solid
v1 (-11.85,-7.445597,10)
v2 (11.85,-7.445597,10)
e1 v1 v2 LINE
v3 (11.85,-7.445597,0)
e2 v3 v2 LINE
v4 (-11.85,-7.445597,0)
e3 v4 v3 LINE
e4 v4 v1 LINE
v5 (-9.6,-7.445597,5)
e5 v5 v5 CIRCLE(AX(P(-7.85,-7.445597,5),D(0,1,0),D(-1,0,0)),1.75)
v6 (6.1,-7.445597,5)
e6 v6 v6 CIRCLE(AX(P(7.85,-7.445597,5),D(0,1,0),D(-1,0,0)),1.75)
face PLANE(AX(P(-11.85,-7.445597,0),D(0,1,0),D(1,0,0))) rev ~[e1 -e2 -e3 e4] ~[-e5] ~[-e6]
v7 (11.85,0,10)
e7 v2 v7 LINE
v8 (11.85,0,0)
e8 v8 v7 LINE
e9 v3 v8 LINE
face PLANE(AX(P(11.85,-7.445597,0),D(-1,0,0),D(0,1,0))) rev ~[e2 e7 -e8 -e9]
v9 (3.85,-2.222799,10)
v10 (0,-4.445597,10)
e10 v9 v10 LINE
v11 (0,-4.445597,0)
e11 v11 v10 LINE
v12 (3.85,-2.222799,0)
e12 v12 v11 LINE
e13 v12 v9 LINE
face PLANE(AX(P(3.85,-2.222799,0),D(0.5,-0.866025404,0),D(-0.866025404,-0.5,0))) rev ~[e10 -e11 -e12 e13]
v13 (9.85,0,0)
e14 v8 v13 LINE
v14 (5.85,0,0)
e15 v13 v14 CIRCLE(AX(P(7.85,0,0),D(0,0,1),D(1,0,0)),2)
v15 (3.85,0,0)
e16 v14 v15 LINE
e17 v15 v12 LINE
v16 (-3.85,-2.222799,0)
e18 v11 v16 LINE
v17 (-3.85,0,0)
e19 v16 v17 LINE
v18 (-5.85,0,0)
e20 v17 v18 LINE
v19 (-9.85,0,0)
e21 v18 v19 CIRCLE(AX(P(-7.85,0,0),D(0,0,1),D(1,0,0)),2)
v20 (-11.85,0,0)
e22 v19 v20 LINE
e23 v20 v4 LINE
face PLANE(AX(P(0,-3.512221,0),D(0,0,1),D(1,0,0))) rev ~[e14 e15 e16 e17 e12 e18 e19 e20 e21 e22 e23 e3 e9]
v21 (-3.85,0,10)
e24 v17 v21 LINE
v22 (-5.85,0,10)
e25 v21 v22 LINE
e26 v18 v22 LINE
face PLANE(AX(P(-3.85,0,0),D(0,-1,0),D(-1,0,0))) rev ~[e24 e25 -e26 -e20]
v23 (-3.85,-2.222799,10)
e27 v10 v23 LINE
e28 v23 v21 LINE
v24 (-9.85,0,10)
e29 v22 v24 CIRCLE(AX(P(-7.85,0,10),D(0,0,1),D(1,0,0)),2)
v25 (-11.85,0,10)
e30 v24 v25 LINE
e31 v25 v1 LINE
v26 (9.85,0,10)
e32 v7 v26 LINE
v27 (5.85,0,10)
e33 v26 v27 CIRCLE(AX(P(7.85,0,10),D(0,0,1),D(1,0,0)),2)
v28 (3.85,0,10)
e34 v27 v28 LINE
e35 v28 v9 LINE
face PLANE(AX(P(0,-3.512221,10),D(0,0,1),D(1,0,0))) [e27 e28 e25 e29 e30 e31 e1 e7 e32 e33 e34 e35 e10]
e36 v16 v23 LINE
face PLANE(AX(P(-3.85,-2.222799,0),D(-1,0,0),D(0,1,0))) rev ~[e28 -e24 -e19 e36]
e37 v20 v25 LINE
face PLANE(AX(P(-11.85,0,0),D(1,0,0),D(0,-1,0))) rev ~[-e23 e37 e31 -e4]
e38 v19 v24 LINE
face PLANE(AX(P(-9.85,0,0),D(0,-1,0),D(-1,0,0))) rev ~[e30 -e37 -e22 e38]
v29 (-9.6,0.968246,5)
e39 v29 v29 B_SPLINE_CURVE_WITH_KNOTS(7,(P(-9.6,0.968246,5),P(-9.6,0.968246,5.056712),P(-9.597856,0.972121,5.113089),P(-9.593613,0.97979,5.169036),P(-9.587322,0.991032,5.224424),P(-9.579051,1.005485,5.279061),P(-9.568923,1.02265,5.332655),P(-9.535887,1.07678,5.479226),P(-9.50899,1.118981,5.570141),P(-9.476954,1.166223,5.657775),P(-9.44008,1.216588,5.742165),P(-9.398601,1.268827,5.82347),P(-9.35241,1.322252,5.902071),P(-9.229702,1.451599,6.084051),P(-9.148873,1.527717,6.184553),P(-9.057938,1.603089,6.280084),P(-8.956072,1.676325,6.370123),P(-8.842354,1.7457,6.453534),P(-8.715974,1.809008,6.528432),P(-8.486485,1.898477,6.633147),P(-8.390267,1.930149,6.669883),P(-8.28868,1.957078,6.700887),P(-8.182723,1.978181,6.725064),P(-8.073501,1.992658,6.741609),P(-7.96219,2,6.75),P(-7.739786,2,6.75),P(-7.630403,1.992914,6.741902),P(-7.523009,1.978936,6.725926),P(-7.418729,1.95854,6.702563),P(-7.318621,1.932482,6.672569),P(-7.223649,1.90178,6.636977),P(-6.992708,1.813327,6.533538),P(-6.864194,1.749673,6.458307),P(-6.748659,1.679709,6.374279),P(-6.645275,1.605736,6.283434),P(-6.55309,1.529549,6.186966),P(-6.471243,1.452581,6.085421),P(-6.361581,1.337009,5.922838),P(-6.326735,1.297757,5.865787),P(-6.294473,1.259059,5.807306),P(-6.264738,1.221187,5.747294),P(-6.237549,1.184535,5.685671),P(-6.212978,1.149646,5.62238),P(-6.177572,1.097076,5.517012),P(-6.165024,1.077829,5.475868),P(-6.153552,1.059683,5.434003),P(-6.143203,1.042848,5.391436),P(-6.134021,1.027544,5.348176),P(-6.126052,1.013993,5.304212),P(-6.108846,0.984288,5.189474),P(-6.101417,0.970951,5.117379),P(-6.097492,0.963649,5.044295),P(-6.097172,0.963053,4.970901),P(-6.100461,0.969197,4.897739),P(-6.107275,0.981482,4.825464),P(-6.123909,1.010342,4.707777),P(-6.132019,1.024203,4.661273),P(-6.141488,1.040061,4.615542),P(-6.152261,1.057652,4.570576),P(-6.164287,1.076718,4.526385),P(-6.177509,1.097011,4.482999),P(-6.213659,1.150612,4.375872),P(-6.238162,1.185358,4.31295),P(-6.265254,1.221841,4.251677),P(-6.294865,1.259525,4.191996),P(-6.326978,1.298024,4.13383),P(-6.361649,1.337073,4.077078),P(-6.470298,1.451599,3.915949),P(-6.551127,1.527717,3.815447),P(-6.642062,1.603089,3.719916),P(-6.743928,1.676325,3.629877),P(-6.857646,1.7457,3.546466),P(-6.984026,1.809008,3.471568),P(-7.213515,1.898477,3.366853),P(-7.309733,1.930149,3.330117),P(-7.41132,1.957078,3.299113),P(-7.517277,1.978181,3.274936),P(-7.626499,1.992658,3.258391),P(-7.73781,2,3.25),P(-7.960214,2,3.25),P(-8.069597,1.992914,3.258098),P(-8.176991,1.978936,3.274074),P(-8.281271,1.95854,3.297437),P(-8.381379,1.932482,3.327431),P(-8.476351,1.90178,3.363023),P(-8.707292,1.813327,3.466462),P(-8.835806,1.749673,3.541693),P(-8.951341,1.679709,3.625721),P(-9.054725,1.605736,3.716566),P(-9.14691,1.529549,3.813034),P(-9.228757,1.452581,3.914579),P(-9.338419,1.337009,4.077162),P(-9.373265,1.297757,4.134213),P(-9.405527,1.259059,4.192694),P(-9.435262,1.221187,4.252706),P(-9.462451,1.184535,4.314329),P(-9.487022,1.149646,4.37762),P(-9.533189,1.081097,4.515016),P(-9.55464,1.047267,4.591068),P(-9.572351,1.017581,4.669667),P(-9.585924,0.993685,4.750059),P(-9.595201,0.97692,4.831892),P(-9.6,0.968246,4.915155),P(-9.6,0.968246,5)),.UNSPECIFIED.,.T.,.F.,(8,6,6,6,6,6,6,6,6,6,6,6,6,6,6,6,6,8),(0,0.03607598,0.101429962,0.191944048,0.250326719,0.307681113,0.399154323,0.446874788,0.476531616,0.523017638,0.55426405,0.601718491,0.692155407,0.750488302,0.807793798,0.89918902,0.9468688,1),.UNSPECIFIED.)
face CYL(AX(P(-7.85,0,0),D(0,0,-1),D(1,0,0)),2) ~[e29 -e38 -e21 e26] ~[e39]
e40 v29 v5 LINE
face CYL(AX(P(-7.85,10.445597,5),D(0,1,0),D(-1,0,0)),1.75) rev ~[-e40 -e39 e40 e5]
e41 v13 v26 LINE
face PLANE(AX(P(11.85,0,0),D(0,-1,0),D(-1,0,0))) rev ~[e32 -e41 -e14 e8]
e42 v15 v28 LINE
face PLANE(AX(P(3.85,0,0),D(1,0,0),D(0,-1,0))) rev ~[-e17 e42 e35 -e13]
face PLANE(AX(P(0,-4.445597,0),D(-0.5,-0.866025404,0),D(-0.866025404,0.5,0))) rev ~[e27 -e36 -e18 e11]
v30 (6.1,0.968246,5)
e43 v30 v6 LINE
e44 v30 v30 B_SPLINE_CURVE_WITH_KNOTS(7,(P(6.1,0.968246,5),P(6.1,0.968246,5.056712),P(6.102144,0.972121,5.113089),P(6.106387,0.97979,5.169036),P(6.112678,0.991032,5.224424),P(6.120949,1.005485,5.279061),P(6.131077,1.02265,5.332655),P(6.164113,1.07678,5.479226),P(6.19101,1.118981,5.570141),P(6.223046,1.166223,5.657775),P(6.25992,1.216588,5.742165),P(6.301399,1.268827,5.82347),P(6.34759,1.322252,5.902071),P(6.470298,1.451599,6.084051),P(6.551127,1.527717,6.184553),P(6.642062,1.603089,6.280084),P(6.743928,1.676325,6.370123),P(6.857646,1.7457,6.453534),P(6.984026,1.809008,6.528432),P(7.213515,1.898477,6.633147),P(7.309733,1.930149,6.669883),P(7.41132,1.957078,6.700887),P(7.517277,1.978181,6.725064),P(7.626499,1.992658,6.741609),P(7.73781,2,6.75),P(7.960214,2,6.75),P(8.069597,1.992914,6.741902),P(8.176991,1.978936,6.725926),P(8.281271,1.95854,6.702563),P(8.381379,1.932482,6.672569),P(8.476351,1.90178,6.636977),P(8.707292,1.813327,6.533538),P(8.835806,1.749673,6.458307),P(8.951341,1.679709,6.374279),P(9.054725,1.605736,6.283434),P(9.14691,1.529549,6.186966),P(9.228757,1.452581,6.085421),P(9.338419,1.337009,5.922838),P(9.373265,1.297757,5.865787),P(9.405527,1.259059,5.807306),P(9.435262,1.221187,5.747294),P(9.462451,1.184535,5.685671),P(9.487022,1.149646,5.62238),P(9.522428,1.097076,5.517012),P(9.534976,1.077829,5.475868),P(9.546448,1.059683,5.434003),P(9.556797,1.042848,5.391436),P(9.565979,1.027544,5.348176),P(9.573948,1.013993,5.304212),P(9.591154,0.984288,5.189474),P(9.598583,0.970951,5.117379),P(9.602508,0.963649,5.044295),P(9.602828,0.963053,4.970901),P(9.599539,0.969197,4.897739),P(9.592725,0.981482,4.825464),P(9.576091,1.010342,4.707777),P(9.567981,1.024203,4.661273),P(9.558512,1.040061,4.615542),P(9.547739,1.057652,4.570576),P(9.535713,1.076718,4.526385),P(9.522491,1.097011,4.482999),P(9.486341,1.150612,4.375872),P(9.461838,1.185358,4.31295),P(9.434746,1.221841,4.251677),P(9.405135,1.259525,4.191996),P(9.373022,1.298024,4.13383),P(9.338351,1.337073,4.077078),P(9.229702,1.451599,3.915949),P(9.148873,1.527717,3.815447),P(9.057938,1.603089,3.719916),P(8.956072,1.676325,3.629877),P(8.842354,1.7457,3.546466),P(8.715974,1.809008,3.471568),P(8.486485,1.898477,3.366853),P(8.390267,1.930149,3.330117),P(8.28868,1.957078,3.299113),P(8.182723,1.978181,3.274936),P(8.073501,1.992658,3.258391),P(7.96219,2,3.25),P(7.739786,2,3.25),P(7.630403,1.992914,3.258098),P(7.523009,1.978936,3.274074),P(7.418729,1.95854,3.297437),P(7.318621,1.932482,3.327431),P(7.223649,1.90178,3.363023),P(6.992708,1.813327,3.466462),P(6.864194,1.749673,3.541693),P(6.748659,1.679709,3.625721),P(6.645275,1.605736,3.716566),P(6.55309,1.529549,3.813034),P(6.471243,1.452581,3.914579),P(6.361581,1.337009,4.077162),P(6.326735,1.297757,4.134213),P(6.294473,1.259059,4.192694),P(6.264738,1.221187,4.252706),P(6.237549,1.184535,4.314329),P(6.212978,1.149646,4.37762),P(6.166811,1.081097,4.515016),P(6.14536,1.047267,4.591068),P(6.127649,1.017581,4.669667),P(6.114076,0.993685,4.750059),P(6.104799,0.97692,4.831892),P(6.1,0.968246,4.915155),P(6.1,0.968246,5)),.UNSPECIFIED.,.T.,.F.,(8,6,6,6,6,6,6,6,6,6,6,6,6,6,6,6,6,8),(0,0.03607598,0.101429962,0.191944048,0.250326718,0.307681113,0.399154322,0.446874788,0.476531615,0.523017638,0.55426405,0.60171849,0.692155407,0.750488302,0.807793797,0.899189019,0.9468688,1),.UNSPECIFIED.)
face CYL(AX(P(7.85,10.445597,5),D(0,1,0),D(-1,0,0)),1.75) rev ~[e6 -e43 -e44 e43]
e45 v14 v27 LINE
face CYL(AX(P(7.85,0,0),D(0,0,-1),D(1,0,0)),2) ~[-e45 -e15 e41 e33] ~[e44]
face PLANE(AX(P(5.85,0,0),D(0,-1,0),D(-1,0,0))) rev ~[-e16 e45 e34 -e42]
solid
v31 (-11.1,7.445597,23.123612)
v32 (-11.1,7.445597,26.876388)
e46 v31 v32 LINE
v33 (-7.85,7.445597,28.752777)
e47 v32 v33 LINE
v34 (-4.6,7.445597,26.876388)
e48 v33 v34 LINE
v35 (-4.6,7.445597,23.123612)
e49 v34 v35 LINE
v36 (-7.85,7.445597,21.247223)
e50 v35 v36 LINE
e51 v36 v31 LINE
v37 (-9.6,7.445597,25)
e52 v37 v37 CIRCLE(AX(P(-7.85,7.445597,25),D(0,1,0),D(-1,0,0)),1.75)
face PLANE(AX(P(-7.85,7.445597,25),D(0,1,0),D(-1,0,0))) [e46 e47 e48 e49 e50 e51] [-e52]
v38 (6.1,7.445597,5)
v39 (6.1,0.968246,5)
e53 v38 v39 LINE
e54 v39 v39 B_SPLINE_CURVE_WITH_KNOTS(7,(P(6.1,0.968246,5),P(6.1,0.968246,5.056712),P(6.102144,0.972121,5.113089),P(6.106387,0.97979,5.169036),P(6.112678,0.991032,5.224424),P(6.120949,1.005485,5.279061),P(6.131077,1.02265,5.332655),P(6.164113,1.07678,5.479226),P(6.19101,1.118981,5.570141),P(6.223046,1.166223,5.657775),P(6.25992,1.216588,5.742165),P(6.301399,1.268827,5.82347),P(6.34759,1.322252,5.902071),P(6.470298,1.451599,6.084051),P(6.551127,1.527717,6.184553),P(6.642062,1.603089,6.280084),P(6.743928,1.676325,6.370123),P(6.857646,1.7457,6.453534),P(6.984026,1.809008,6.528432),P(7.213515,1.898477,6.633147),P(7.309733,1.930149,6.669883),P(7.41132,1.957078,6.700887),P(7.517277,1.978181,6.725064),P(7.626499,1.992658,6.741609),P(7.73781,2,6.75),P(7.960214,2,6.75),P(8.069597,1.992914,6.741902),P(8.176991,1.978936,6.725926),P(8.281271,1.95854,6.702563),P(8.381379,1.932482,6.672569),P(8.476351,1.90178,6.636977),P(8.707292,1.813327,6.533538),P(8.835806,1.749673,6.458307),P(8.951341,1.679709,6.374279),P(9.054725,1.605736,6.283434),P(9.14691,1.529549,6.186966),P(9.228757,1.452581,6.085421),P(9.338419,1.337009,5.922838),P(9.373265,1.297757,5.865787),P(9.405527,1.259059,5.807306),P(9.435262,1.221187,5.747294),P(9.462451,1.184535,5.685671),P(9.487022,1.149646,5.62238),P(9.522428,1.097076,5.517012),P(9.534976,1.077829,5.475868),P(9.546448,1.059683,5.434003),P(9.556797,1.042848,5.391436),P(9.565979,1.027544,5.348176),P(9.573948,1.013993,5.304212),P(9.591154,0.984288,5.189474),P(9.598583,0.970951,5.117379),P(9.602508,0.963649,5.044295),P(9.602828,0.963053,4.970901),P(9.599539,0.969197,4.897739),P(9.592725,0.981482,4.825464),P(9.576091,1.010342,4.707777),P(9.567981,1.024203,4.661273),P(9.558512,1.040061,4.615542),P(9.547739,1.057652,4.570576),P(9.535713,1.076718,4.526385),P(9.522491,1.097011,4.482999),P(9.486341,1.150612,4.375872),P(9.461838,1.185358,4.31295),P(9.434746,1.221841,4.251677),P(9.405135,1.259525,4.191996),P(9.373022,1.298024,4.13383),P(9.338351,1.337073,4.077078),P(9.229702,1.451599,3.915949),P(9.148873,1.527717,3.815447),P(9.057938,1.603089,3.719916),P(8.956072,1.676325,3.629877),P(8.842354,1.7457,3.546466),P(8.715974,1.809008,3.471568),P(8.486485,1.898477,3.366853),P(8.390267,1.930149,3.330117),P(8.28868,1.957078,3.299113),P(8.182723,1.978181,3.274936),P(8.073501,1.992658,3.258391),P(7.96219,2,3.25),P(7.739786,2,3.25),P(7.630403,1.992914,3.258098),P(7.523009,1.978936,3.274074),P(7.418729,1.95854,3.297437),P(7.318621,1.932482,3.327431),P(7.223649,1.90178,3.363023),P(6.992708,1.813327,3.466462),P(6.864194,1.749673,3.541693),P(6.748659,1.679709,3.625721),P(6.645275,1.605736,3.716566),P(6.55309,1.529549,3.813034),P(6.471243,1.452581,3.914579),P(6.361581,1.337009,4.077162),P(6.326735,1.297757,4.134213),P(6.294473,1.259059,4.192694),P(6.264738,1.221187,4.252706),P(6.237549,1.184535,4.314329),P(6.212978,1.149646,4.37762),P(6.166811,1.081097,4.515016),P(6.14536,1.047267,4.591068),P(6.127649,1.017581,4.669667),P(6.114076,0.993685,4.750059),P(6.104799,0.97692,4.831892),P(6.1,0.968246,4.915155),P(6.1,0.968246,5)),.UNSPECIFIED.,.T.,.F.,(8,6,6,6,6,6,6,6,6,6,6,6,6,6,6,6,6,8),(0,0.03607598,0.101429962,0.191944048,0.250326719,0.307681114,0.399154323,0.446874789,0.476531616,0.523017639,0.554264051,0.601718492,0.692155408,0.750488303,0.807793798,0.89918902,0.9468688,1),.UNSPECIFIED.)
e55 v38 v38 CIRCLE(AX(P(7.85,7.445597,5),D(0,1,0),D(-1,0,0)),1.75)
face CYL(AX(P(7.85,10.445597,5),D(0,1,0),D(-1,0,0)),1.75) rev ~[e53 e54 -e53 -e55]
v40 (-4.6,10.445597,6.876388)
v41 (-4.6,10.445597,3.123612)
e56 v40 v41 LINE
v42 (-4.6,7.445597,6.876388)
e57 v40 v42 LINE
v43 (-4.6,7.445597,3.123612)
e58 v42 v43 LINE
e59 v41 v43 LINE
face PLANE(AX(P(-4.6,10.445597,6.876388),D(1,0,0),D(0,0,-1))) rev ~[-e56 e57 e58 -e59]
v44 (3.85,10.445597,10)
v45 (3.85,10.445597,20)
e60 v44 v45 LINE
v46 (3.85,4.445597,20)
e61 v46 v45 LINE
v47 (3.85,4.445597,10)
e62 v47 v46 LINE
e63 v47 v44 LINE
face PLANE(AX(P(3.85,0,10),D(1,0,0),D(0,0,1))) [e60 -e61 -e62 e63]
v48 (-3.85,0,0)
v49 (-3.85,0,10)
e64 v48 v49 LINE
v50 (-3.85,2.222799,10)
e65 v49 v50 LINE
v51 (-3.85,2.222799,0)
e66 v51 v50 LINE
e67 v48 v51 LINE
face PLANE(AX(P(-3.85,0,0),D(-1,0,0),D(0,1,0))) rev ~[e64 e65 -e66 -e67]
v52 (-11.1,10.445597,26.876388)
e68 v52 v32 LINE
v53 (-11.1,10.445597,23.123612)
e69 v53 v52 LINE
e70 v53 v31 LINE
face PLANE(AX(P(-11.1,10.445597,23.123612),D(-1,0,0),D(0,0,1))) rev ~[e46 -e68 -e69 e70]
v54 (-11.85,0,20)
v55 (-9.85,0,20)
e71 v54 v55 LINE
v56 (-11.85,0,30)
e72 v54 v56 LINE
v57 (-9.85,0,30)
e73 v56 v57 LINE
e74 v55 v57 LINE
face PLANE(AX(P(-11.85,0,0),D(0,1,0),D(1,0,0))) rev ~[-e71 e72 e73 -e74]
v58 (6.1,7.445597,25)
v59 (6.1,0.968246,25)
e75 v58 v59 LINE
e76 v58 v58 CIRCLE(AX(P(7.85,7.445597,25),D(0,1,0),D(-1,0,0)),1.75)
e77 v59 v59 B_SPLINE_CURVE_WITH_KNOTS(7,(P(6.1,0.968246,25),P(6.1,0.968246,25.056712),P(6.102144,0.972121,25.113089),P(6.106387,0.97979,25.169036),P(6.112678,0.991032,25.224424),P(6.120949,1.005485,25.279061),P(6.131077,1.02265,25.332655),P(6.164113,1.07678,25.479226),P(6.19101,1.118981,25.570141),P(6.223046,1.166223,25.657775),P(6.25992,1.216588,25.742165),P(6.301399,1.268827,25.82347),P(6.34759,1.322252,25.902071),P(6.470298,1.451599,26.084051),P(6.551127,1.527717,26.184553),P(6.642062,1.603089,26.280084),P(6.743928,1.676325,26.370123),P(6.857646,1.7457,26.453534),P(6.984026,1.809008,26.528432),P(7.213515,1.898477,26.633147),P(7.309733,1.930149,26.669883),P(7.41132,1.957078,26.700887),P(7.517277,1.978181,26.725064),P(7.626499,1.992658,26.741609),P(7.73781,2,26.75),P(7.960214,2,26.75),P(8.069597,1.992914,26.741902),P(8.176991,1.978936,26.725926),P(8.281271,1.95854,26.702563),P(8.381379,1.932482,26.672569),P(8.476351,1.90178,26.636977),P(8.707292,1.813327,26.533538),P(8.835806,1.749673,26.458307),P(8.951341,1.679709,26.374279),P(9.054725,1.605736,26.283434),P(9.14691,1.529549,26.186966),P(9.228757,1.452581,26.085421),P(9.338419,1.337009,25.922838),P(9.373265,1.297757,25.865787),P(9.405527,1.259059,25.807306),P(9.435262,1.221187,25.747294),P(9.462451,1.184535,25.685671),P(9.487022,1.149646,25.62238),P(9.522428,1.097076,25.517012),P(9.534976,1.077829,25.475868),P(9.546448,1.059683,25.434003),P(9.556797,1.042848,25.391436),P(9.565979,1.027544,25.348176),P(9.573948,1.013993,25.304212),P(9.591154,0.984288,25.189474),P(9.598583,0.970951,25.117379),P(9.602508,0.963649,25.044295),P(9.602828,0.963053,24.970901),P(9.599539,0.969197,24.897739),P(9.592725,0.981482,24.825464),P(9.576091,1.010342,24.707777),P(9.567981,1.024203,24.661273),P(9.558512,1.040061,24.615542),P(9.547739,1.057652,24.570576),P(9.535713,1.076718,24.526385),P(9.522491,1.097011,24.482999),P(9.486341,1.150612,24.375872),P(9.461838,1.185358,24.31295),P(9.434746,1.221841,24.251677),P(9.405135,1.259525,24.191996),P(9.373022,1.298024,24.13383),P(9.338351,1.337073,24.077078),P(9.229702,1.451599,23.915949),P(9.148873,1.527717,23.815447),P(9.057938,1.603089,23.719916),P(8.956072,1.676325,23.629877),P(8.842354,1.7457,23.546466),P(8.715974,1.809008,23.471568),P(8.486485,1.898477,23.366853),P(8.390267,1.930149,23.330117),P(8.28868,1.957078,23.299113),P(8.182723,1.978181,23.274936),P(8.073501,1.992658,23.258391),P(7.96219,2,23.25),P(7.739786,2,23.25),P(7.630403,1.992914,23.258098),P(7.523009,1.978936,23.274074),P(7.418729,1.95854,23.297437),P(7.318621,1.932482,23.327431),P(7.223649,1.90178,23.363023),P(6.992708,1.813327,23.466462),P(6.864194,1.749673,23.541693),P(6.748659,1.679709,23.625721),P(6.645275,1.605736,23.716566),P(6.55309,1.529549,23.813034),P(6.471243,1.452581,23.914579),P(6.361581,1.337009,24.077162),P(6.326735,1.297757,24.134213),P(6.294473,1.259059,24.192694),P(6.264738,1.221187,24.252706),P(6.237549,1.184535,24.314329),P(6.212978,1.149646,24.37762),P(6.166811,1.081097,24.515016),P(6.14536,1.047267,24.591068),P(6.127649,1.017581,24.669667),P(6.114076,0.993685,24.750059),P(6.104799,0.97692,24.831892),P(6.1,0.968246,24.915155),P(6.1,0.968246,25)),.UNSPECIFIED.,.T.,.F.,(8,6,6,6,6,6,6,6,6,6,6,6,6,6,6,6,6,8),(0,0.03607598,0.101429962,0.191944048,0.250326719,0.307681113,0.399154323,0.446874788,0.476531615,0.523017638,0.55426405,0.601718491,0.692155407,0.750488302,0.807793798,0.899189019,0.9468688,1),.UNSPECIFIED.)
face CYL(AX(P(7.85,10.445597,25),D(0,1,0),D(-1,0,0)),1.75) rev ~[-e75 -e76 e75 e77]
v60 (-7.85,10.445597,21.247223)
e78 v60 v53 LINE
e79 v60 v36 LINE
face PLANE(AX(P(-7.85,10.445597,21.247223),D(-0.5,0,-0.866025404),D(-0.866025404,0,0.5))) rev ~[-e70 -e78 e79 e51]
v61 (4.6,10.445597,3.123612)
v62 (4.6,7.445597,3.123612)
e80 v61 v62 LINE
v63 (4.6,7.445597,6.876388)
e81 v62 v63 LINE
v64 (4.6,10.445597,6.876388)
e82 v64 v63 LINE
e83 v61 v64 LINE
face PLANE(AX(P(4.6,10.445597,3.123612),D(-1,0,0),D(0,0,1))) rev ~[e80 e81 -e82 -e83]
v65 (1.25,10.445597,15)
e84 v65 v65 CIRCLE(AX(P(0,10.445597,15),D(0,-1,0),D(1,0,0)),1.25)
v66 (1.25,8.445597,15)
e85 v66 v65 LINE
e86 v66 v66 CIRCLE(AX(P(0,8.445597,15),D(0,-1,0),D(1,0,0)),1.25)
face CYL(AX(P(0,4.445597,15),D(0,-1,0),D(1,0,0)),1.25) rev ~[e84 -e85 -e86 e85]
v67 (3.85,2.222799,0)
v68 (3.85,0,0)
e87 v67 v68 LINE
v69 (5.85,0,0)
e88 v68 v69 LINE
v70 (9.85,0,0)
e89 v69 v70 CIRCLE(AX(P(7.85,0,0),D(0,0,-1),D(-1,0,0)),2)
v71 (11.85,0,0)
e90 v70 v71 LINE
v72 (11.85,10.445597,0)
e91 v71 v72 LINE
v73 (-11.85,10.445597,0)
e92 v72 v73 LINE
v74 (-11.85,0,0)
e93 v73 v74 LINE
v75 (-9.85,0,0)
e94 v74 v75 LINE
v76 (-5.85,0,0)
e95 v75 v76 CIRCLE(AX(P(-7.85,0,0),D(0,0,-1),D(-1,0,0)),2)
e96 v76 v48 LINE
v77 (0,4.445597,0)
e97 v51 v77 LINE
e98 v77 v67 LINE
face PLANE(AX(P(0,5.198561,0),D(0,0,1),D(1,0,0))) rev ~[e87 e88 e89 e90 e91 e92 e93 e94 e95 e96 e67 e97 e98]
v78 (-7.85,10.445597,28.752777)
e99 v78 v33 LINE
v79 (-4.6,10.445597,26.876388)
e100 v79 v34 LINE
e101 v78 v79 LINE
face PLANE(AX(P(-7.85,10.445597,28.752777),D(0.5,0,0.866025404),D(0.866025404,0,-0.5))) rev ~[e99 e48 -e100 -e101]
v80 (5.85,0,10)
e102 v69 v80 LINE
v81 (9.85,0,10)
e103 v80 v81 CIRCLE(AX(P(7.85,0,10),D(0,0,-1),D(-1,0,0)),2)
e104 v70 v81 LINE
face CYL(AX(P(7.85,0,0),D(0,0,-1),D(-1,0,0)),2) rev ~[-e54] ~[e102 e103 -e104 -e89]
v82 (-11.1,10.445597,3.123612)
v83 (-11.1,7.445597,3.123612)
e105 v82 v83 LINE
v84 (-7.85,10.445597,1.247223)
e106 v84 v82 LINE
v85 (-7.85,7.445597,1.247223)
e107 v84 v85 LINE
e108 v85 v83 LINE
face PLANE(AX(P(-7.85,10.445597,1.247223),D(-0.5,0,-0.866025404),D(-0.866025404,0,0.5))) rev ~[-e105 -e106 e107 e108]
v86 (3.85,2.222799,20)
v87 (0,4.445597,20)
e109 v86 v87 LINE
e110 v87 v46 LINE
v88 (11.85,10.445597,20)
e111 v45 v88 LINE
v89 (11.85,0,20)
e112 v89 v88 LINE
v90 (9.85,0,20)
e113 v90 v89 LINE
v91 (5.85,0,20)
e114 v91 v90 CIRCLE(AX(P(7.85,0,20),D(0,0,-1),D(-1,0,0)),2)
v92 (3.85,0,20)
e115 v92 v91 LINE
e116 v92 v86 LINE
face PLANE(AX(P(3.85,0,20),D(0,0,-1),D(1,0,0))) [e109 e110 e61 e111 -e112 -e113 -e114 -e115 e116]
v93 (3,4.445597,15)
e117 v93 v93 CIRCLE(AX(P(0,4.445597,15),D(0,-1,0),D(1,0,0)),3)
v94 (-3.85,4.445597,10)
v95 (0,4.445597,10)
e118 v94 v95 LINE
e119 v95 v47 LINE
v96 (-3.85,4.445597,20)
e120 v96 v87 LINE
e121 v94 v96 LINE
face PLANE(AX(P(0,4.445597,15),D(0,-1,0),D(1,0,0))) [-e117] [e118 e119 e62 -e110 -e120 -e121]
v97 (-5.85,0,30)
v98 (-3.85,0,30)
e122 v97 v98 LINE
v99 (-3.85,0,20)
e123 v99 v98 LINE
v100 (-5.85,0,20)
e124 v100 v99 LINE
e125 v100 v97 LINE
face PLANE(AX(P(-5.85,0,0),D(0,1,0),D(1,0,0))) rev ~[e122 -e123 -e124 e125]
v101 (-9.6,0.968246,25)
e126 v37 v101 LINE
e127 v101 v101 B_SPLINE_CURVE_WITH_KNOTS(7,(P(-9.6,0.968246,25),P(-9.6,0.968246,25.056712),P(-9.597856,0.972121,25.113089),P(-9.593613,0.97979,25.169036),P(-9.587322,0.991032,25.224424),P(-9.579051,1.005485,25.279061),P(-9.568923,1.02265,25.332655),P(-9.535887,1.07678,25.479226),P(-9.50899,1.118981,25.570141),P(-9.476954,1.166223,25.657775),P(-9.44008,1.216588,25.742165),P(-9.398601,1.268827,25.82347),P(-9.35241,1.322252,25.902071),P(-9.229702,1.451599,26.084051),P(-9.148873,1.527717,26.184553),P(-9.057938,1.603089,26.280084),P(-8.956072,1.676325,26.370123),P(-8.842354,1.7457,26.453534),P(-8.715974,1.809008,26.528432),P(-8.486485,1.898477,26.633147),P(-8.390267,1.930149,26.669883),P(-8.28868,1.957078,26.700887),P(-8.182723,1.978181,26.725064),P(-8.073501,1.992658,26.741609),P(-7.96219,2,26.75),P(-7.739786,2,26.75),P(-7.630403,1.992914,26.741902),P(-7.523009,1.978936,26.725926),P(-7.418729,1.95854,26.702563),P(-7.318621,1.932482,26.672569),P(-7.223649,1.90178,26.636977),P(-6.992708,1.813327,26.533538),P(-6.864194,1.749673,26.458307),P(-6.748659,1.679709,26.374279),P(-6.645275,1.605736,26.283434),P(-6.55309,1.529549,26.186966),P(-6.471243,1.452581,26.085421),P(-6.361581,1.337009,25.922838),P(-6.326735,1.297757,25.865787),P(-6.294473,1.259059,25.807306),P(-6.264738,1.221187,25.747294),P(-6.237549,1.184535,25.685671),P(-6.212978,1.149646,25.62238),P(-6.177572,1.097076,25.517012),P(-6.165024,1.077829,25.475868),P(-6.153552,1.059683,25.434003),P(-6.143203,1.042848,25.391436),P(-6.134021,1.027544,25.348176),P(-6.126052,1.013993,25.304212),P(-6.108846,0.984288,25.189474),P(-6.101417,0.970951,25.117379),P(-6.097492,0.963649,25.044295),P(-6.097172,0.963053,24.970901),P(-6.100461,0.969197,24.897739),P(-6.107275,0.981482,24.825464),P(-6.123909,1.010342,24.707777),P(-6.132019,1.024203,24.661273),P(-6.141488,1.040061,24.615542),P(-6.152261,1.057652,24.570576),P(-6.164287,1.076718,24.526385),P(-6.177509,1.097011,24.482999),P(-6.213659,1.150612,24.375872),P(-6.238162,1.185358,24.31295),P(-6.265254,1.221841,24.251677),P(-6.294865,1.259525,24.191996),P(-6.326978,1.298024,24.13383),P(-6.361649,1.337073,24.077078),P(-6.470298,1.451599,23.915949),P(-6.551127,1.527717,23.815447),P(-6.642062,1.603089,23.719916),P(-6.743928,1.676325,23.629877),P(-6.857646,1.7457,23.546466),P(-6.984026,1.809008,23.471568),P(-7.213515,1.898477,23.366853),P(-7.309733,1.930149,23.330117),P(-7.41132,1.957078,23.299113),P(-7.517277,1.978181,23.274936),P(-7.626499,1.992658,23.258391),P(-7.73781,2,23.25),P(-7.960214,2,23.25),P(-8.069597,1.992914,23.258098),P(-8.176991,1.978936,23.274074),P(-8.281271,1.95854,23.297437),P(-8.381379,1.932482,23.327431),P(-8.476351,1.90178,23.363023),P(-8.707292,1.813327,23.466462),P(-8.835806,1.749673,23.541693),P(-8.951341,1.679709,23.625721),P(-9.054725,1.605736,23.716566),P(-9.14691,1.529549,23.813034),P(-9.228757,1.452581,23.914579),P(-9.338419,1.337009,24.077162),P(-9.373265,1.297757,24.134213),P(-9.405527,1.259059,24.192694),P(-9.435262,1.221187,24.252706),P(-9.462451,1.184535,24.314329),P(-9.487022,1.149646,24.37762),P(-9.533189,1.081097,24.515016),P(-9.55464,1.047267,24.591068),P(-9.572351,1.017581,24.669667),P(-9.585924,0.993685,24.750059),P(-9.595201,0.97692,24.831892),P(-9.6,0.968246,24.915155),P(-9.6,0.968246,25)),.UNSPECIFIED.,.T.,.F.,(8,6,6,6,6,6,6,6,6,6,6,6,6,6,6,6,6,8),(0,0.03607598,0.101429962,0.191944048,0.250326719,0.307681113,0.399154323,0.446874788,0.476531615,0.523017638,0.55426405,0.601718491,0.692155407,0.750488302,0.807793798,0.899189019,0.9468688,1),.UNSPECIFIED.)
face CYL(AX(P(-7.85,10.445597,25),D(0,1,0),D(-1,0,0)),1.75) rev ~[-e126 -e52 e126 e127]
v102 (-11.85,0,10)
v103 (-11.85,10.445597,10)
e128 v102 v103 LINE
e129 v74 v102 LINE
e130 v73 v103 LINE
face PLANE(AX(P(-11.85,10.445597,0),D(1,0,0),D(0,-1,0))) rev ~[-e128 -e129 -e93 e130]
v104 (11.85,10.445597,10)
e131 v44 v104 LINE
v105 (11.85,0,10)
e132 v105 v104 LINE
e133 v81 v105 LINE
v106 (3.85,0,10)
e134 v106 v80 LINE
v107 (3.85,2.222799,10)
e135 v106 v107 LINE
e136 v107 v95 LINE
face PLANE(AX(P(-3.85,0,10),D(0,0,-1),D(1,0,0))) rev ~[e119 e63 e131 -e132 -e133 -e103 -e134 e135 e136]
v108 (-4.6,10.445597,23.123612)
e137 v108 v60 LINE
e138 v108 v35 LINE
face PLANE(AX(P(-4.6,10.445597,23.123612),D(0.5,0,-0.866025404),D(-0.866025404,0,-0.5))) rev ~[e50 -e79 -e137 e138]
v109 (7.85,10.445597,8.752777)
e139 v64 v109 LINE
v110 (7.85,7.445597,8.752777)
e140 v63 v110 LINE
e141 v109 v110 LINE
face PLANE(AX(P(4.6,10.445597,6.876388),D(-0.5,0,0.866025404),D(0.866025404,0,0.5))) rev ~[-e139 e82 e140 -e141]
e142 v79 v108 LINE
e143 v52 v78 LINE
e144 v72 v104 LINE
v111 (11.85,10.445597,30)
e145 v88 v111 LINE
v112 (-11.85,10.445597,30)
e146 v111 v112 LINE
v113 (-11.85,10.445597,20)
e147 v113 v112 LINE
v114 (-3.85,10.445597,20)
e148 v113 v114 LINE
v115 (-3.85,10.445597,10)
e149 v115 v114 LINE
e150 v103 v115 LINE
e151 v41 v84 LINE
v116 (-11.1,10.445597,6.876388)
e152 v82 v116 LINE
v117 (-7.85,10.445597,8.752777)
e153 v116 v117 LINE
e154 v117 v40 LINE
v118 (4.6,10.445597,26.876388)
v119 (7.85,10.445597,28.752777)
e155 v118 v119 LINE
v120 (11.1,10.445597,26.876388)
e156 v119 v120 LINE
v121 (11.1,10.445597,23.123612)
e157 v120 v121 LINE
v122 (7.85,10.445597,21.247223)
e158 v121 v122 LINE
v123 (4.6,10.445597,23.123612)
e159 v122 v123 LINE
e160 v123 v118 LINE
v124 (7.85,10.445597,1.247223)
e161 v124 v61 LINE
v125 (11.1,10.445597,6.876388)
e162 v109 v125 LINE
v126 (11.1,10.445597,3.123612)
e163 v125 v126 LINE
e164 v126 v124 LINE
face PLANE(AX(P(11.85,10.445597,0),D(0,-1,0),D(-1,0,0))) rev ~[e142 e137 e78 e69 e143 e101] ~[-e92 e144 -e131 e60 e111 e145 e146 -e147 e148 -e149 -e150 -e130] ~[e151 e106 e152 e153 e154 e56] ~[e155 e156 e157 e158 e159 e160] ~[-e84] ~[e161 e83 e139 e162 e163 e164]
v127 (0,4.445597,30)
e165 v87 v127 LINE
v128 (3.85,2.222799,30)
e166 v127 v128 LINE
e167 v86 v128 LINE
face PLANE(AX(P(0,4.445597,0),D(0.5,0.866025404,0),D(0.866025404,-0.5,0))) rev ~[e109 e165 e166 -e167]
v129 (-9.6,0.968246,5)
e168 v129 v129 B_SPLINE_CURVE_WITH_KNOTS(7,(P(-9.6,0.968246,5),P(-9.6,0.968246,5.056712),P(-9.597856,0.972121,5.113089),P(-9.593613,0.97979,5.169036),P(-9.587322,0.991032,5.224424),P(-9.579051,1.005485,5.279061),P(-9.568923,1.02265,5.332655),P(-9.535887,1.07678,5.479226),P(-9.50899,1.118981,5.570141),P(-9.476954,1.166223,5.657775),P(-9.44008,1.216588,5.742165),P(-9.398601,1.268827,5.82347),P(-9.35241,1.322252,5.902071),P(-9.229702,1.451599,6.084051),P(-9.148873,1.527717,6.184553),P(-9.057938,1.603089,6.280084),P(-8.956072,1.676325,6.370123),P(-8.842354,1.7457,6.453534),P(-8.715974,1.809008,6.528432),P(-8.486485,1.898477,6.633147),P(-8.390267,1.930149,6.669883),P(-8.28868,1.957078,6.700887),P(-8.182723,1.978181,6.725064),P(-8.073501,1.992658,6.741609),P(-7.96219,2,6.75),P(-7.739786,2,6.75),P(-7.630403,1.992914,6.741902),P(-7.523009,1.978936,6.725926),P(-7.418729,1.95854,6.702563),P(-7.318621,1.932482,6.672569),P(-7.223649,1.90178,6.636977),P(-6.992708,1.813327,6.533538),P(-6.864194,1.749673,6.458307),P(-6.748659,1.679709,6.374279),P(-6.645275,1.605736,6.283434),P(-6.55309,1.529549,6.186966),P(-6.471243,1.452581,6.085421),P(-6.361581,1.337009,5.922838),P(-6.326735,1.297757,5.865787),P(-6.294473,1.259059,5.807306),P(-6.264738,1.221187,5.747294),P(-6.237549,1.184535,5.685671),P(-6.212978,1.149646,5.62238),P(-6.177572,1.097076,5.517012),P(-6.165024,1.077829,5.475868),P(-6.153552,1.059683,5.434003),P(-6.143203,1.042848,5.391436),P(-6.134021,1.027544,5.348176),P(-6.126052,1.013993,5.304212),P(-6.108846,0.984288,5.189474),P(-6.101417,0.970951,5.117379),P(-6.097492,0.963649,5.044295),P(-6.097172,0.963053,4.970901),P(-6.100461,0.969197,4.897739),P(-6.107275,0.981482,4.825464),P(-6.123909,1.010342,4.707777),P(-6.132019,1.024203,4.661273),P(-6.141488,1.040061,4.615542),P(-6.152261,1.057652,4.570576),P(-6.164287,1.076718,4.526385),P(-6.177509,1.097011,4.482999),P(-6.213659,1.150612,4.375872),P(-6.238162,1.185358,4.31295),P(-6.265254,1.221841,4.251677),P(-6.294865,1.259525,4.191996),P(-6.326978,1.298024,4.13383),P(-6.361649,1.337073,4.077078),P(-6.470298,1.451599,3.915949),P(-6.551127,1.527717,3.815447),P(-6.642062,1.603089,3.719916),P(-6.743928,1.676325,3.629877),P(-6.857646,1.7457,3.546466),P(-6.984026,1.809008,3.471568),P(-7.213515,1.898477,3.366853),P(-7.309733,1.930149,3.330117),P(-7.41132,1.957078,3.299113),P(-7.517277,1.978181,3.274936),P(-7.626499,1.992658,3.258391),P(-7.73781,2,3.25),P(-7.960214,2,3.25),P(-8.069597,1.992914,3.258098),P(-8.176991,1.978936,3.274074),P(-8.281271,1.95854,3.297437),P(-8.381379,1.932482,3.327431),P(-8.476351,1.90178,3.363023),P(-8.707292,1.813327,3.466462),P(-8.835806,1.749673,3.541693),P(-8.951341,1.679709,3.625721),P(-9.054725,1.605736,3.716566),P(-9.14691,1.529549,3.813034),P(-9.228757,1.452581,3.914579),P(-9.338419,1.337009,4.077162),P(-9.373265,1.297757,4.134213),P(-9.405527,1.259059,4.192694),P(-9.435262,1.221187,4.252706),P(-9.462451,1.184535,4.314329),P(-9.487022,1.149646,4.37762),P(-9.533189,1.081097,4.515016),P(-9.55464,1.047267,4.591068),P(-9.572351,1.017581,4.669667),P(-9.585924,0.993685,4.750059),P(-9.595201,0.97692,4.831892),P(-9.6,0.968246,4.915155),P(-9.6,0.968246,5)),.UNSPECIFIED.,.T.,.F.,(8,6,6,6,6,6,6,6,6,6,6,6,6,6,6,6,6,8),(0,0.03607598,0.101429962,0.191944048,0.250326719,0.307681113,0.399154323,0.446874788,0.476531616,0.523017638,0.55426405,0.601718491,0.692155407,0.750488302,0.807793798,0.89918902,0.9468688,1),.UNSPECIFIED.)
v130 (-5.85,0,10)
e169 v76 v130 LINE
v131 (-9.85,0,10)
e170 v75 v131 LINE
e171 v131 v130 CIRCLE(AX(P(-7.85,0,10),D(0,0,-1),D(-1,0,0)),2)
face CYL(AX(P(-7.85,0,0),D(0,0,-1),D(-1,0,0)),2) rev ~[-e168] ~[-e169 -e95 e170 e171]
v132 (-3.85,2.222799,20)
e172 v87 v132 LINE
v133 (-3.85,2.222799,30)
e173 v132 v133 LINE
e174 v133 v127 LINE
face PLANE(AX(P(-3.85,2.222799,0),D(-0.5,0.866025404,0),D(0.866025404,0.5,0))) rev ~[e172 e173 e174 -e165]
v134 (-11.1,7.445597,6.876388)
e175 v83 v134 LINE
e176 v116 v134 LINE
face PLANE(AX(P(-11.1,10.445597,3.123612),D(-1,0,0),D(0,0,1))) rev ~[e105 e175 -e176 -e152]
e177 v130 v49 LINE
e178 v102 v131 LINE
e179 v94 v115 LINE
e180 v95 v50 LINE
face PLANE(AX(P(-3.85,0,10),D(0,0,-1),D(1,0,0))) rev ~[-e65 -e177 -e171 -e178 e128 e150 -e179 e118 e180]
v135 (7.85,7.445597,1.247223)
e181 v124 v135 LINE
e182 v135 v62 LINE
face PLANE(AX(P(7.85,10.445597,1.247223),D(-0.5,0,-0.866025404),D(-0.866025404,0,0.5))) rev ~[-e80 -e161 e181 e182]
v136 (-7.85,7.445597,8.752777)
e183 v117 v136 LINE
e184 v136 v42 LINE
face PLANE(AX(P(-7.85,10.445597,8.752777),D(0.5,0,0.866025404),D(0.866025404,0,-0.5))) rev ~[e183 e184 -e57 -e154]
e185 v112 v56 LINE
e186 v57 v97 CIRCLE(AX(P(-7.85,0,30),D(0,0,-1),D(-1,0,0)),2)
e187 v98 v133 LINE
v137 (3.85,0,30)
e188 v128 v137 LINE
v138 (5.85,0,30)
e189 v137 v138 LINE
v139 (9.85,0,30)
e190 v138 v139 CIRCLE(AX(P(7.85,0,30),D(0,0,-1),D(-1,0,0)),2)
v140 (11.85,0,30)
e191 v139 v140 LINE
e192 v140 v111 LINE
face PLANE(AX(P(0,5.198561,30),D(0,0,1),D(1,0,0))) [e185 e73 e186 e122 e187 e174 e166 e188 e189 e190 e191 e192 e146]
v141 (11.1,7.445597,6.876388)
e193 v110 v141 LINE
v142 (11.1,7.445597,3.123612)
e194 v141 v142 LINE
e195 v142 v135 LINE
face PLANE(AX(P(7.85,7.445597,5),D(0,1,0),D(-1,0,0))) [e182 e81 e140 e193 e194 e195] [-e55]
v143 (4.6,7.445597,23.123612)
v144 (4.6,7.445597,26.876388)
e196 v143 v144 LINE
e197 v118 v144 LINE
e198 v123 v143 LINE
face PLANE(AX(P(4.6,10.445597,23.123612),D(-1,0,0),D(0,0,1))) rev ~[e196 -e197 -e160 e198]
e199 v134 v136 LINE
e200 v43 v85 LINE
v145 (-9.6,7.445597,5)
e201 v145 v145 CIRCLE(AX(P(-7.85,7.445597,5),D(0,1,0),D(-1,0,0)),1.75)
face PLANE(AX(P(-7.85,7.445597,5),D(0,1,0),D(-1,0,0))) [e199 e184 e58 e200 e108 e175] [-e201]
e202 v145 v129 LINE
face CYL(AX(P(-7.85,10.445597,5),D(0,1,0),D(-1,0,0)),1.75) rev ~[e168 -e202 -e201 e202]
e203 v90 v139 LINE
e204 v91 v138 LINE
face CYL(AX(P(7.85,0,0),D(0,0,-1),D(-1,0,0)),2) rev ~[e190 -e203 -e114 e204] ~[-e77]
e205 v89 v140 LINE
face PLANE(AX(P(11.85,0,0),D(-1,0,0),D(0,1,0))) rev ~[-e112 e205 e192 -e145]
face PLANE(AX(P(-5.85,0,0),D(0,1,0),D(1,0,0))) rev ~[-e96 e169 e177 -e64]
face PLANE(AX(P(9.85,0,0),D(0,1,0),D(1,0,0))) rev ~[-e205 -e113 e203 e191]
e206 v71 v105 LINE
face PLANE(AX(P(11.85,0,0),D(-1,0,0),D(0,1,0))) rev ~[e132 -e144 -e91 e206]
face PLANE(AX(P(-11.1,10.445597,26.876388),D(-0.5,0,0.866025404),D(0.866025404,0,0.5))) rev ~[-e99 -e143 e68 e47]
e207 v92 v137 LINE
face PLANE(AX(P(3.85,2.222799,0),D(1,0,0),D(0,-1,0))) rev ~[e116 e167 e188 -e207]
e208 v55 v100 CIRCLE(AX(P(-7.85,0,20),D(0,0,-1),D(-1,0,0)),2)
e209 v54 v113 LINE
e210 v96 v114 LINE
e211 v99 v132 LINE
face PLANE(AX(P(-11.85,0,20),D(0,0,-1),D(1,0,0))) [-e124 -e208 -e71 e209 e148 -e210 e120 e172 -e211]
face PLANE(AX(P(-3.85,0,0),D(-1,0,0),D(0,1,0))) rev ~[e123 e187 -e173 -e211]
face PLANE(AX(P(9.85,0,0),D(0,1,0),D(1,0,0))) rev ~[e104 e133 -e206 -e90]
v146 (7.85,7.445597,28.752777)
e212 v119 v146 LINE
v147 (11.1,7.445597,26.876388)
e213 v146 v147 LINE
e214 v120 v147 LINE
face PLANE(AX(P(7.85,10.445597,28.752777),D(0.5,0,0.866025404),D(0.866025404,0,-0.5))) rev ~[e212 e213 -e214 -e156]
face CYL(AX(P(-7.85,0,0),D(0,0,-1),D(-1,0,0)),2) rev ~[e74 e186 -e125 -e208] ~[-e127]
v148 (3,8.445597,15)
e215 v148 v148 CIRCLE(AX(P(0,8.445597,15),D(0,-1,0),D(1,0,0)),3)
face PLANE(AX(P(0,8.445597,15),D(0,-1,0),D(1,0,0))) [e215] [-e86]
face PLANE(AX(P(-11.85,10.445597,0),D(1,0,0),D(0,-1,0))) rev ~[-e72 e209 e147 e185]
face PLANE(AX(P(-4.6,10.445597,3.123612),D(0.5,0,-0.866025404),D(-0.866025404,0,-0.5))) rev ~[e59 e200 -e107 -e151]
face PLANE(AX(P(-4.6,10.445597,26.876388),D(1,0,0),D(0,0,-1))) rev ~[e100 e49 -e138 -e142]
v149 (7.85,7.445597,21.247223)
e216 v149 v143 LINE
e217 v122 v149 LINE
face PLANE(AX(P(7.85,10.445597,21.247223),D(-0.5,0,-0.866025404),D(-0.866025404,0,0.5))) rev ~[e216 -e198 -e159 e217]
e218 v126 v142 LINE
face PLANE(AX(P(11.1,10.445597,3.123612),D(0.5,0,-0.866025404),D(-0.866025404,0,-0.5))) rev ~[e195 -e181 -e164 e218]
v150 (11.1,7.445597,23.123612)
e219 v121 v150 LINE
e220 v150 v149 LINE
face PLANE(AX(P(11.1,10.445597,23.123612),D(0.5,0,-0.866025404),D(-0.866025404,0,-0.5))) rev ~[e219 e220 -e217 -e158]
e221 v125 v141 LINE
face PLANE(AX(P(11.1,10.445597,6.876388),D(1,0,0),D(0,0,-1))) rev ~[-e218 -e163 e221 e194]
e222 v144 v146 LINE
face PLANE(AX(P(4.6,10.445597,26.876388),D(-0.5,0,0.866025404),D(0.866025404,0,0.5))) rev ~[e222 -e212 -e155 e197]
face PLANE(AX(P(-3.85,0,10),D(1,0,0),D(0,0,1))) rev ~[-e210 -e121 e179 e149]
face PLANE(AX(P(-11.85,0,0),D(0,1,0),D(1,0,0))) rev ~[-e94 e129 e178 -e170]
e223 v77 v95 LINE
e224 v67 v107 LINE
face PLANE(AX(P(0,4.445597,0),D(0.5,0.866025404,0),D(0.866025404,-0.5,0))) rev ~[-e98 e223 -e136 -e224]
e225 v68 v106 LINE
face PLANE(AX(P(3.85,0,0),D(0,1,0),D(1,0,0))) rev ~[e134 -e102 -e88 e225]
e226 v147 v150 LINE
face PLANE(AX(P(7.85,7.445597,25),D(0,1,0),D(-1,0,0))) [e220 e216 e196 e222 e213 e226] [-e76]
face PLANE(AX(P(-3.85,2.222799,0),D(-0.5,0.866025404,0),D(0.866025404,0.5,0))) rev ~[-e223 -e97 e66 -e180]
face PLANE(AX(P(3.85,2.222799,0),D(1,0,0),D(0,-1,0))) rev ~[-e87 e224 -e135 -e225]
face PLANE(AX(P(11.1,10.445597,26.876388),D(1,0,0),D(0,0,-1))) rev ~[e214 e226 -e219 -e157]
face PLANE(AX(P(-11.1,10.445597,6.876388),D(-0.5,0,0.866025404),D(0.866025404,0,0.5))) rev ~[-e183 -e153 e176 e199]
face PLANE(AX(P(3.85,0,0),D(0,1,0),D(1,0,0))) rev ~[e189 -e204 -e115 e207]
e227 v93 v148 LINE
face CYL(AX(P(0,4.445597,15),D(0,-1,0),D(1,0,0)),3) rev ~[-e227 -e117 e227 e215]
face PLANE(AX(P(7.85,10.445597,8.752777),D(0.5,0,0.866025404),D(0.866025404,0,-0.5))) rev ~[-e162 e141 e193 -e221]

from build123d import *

# Parameters (mm, degrees)
F1_DEPTH  = 30
F2_W      = 8
F2_H      = 10
F3_DEPTH  = 10.4455970728
F4_W      = 7.7
F4_H      = 10
F5_DEPTH  = 4.4455970728
F6_R      = 1.25
F7_DEPTH  = 6
F8_R      = 3
F9_DEPTH  = 4
F11_DEPTH = 3
F13_DEPTH = 10
F12_R     = 1.75
F14_DEPTH = 17.8911941455


with BuildPart() as f1:
    # F0 (on Top) → F1 (new body)
    with BuildSketch(Plane.XY):
        with BuildLine():
            Line((0, 4.4455970728), (3.85, 2.2227985364))
            Line((3.85, 2.2227985364), (3.85, 0))
            Line((3.85, 0), (5.85, 0))
            ThreePointArc((5.85, 0), (7.85, 2), (9.85, 0))
            Line((9.85, 0), (11.85, 0))
            Line((11.85, 0), (11.85, 10.4455970728))
            Line((11.85, 10.4455970728), (0, 10.4455970728))
            Line((0, 10.4455970728), (-11.85, 10.4455970728))
            Line((-11.85, 10.4455970728), (-11.85, 0))
            Line((-11.85, 0), (-9.85, 0))
            ThreePointArc((-9.85, 0), (-7.85, 2), (-5.85, 0))
            Line((-5.85, 0), (-3.85, 0))
            Line((-3.85, 0), (-3.85, 2.2227985364))
            Line((-3.85, 2.2227985364), (0, 4.4455970728))
        make_face()
    extrude(amount=F1_DEPTH)

    # F2 (on face) → F3 (cut, through all)
    with BuildSketch(Plane.XZ):
        with Locations((-7.85, 15)):
            Rectangle(F2_W, F2_H)
        with Locations((7.85, 15)):
            Rectangle(F2_W, F2_H)
    extrude(amount=-F3_DEPTH, mode=Mode.SUBTRACT)

    # F4 (on face) → F5 (cut, through all)
    with BuildSketch(Plane.XZ):
        with Locations((0, 15)):
            Rectangle(F4_W, F4_H)
    extrude(amount=-F5_DEPTH, mode=Mode.SUBTRACT)

    # F6 (on face) → F7 (cut, through all)
    with BuildSketch(Plane.XZ.offset(-4.4455970728)):
        with Locations((0, 15)):
            Circle(F6_R)
    extrude(amount=-F7_DEPTH, mode=Mode.SUBTRACT)

    # F8 (on face) → F9 (cut)
    with BuildSketch(Plane.XZ.offset(-4.4455970728)):
        with Locations((0, 15)):
            Circle(F8_R)
    extrude(amount=-F9_DEPTH, mode=Mode.SUBTRACT)

    # F10 (on face) → F11 (cut)
    with BuildSketch(Plane(origin=(0, 10.4455970728, 0), x_dir=(-1, 0, 0), z_dir=(0, 1, 0))):
        Polygon((-4.6, 23.1236116251), (-4.6, 26.8763883749), (-7.85, 28.7527767497), (-11.1, 26.8763883749), (-11.1, 23.1236116251), (-7.85, 21.2472232503), align=None)
        Polygon((11.1, 23.1236116251), (11.1, 26.8763883749), (7.85, 28.7527767497), (4.6, 26.8763883749), (4.6, 23.1236116251), (7.85, 21.2472232503), align=None)
        Polygon((11.1, 3.1236116251), (11.1, 6.8763883749), (7.85, 8.7527767497), (4.6, 6.8763883749), (4.6, 3.1236116251), (7.85, 1.2472232503), align=None)
        Polygon((-4.6, 6.8763883749), (-7.85, 8.7527767497), (-11.1, 6.8763883749), (-11.1, 3.1236116251), (-7.85, 1.2472232503), (-4.6, 3.1236116251), align=None)
    extrude(amount=-F11_DEPTH, mode=Mode.SUBTRACT)


with BuildPart() as f13:
    # F0 (on Top) → F13 (new body, through all)
    with BuildSketch(Plane.XY):
        with BuildLine():
            Line((5.85, 0), (3.85, 0))
            Line((3.85, 0), (3.85, -2.2227985364))
            Line((3.85, -2.2227985364), (0, -4.4455970728))
            Line((0, -4.4455970728), (-3.85, -2.2227985364))
            Line((-3.85, -2.2227985364), (-3.85, 0))
            Line((-3.85, 0), (-5.85, 0))
            ThreePointArc((-5.85, 0), (-7.85, 2), (-9.85, 0))
            Line((-9.85, 0), (-11.85, 0))
            Line((-11.85, 0), (-11.85, -7.4455970728))
            Line((-11.85, -7.4455970728), (0, -7.4455970728))
            Line((0, -7.4455970728), (11.85, -7.4455970728))
            Line((11.85, -7.4455970728), (11.85, 0))
            Line((11.85, 0), (9.85, 0))
            ThreePointArc((9.85, 0), (7.85, 2), (5.85, 0))
        make_face()
    extrude(amount=F13_DEPTH)


with BuildPart() as f14_tool:
    # F12 (on face) → F14 (new body, through all)
    with BuildSketch(Plane(origin=(0, 10.4455970728, 0), x_dir=(-1, 0, 0), z_dir=(0, 1, 0))):
        with Locations((-7.85, 25)):
            Circle(F12_R)
        with Locations((7.85, 25)):
            Circle(F12_R)
        with Locations((7.85, 5)):
            Circle(F12_R)
        with Locations((-7.85, 5)):
            Circle(F12_R)
    extrude(amount=-F14_DEPTH)


with BuildPart() as f1_1:
    add(f1.part)

    # F14: cut by f14_tool
    add(f14_tool.part, mode=Mode.SUBTRACT)


with BuildPart() as f13_1:
    add(f13.part)

    # F14: cut by f14_tool
    add(f14_tool.part, mode=Mode.SUBTRACT)


solid = Compound([f1_1.part, f13_1.part])
